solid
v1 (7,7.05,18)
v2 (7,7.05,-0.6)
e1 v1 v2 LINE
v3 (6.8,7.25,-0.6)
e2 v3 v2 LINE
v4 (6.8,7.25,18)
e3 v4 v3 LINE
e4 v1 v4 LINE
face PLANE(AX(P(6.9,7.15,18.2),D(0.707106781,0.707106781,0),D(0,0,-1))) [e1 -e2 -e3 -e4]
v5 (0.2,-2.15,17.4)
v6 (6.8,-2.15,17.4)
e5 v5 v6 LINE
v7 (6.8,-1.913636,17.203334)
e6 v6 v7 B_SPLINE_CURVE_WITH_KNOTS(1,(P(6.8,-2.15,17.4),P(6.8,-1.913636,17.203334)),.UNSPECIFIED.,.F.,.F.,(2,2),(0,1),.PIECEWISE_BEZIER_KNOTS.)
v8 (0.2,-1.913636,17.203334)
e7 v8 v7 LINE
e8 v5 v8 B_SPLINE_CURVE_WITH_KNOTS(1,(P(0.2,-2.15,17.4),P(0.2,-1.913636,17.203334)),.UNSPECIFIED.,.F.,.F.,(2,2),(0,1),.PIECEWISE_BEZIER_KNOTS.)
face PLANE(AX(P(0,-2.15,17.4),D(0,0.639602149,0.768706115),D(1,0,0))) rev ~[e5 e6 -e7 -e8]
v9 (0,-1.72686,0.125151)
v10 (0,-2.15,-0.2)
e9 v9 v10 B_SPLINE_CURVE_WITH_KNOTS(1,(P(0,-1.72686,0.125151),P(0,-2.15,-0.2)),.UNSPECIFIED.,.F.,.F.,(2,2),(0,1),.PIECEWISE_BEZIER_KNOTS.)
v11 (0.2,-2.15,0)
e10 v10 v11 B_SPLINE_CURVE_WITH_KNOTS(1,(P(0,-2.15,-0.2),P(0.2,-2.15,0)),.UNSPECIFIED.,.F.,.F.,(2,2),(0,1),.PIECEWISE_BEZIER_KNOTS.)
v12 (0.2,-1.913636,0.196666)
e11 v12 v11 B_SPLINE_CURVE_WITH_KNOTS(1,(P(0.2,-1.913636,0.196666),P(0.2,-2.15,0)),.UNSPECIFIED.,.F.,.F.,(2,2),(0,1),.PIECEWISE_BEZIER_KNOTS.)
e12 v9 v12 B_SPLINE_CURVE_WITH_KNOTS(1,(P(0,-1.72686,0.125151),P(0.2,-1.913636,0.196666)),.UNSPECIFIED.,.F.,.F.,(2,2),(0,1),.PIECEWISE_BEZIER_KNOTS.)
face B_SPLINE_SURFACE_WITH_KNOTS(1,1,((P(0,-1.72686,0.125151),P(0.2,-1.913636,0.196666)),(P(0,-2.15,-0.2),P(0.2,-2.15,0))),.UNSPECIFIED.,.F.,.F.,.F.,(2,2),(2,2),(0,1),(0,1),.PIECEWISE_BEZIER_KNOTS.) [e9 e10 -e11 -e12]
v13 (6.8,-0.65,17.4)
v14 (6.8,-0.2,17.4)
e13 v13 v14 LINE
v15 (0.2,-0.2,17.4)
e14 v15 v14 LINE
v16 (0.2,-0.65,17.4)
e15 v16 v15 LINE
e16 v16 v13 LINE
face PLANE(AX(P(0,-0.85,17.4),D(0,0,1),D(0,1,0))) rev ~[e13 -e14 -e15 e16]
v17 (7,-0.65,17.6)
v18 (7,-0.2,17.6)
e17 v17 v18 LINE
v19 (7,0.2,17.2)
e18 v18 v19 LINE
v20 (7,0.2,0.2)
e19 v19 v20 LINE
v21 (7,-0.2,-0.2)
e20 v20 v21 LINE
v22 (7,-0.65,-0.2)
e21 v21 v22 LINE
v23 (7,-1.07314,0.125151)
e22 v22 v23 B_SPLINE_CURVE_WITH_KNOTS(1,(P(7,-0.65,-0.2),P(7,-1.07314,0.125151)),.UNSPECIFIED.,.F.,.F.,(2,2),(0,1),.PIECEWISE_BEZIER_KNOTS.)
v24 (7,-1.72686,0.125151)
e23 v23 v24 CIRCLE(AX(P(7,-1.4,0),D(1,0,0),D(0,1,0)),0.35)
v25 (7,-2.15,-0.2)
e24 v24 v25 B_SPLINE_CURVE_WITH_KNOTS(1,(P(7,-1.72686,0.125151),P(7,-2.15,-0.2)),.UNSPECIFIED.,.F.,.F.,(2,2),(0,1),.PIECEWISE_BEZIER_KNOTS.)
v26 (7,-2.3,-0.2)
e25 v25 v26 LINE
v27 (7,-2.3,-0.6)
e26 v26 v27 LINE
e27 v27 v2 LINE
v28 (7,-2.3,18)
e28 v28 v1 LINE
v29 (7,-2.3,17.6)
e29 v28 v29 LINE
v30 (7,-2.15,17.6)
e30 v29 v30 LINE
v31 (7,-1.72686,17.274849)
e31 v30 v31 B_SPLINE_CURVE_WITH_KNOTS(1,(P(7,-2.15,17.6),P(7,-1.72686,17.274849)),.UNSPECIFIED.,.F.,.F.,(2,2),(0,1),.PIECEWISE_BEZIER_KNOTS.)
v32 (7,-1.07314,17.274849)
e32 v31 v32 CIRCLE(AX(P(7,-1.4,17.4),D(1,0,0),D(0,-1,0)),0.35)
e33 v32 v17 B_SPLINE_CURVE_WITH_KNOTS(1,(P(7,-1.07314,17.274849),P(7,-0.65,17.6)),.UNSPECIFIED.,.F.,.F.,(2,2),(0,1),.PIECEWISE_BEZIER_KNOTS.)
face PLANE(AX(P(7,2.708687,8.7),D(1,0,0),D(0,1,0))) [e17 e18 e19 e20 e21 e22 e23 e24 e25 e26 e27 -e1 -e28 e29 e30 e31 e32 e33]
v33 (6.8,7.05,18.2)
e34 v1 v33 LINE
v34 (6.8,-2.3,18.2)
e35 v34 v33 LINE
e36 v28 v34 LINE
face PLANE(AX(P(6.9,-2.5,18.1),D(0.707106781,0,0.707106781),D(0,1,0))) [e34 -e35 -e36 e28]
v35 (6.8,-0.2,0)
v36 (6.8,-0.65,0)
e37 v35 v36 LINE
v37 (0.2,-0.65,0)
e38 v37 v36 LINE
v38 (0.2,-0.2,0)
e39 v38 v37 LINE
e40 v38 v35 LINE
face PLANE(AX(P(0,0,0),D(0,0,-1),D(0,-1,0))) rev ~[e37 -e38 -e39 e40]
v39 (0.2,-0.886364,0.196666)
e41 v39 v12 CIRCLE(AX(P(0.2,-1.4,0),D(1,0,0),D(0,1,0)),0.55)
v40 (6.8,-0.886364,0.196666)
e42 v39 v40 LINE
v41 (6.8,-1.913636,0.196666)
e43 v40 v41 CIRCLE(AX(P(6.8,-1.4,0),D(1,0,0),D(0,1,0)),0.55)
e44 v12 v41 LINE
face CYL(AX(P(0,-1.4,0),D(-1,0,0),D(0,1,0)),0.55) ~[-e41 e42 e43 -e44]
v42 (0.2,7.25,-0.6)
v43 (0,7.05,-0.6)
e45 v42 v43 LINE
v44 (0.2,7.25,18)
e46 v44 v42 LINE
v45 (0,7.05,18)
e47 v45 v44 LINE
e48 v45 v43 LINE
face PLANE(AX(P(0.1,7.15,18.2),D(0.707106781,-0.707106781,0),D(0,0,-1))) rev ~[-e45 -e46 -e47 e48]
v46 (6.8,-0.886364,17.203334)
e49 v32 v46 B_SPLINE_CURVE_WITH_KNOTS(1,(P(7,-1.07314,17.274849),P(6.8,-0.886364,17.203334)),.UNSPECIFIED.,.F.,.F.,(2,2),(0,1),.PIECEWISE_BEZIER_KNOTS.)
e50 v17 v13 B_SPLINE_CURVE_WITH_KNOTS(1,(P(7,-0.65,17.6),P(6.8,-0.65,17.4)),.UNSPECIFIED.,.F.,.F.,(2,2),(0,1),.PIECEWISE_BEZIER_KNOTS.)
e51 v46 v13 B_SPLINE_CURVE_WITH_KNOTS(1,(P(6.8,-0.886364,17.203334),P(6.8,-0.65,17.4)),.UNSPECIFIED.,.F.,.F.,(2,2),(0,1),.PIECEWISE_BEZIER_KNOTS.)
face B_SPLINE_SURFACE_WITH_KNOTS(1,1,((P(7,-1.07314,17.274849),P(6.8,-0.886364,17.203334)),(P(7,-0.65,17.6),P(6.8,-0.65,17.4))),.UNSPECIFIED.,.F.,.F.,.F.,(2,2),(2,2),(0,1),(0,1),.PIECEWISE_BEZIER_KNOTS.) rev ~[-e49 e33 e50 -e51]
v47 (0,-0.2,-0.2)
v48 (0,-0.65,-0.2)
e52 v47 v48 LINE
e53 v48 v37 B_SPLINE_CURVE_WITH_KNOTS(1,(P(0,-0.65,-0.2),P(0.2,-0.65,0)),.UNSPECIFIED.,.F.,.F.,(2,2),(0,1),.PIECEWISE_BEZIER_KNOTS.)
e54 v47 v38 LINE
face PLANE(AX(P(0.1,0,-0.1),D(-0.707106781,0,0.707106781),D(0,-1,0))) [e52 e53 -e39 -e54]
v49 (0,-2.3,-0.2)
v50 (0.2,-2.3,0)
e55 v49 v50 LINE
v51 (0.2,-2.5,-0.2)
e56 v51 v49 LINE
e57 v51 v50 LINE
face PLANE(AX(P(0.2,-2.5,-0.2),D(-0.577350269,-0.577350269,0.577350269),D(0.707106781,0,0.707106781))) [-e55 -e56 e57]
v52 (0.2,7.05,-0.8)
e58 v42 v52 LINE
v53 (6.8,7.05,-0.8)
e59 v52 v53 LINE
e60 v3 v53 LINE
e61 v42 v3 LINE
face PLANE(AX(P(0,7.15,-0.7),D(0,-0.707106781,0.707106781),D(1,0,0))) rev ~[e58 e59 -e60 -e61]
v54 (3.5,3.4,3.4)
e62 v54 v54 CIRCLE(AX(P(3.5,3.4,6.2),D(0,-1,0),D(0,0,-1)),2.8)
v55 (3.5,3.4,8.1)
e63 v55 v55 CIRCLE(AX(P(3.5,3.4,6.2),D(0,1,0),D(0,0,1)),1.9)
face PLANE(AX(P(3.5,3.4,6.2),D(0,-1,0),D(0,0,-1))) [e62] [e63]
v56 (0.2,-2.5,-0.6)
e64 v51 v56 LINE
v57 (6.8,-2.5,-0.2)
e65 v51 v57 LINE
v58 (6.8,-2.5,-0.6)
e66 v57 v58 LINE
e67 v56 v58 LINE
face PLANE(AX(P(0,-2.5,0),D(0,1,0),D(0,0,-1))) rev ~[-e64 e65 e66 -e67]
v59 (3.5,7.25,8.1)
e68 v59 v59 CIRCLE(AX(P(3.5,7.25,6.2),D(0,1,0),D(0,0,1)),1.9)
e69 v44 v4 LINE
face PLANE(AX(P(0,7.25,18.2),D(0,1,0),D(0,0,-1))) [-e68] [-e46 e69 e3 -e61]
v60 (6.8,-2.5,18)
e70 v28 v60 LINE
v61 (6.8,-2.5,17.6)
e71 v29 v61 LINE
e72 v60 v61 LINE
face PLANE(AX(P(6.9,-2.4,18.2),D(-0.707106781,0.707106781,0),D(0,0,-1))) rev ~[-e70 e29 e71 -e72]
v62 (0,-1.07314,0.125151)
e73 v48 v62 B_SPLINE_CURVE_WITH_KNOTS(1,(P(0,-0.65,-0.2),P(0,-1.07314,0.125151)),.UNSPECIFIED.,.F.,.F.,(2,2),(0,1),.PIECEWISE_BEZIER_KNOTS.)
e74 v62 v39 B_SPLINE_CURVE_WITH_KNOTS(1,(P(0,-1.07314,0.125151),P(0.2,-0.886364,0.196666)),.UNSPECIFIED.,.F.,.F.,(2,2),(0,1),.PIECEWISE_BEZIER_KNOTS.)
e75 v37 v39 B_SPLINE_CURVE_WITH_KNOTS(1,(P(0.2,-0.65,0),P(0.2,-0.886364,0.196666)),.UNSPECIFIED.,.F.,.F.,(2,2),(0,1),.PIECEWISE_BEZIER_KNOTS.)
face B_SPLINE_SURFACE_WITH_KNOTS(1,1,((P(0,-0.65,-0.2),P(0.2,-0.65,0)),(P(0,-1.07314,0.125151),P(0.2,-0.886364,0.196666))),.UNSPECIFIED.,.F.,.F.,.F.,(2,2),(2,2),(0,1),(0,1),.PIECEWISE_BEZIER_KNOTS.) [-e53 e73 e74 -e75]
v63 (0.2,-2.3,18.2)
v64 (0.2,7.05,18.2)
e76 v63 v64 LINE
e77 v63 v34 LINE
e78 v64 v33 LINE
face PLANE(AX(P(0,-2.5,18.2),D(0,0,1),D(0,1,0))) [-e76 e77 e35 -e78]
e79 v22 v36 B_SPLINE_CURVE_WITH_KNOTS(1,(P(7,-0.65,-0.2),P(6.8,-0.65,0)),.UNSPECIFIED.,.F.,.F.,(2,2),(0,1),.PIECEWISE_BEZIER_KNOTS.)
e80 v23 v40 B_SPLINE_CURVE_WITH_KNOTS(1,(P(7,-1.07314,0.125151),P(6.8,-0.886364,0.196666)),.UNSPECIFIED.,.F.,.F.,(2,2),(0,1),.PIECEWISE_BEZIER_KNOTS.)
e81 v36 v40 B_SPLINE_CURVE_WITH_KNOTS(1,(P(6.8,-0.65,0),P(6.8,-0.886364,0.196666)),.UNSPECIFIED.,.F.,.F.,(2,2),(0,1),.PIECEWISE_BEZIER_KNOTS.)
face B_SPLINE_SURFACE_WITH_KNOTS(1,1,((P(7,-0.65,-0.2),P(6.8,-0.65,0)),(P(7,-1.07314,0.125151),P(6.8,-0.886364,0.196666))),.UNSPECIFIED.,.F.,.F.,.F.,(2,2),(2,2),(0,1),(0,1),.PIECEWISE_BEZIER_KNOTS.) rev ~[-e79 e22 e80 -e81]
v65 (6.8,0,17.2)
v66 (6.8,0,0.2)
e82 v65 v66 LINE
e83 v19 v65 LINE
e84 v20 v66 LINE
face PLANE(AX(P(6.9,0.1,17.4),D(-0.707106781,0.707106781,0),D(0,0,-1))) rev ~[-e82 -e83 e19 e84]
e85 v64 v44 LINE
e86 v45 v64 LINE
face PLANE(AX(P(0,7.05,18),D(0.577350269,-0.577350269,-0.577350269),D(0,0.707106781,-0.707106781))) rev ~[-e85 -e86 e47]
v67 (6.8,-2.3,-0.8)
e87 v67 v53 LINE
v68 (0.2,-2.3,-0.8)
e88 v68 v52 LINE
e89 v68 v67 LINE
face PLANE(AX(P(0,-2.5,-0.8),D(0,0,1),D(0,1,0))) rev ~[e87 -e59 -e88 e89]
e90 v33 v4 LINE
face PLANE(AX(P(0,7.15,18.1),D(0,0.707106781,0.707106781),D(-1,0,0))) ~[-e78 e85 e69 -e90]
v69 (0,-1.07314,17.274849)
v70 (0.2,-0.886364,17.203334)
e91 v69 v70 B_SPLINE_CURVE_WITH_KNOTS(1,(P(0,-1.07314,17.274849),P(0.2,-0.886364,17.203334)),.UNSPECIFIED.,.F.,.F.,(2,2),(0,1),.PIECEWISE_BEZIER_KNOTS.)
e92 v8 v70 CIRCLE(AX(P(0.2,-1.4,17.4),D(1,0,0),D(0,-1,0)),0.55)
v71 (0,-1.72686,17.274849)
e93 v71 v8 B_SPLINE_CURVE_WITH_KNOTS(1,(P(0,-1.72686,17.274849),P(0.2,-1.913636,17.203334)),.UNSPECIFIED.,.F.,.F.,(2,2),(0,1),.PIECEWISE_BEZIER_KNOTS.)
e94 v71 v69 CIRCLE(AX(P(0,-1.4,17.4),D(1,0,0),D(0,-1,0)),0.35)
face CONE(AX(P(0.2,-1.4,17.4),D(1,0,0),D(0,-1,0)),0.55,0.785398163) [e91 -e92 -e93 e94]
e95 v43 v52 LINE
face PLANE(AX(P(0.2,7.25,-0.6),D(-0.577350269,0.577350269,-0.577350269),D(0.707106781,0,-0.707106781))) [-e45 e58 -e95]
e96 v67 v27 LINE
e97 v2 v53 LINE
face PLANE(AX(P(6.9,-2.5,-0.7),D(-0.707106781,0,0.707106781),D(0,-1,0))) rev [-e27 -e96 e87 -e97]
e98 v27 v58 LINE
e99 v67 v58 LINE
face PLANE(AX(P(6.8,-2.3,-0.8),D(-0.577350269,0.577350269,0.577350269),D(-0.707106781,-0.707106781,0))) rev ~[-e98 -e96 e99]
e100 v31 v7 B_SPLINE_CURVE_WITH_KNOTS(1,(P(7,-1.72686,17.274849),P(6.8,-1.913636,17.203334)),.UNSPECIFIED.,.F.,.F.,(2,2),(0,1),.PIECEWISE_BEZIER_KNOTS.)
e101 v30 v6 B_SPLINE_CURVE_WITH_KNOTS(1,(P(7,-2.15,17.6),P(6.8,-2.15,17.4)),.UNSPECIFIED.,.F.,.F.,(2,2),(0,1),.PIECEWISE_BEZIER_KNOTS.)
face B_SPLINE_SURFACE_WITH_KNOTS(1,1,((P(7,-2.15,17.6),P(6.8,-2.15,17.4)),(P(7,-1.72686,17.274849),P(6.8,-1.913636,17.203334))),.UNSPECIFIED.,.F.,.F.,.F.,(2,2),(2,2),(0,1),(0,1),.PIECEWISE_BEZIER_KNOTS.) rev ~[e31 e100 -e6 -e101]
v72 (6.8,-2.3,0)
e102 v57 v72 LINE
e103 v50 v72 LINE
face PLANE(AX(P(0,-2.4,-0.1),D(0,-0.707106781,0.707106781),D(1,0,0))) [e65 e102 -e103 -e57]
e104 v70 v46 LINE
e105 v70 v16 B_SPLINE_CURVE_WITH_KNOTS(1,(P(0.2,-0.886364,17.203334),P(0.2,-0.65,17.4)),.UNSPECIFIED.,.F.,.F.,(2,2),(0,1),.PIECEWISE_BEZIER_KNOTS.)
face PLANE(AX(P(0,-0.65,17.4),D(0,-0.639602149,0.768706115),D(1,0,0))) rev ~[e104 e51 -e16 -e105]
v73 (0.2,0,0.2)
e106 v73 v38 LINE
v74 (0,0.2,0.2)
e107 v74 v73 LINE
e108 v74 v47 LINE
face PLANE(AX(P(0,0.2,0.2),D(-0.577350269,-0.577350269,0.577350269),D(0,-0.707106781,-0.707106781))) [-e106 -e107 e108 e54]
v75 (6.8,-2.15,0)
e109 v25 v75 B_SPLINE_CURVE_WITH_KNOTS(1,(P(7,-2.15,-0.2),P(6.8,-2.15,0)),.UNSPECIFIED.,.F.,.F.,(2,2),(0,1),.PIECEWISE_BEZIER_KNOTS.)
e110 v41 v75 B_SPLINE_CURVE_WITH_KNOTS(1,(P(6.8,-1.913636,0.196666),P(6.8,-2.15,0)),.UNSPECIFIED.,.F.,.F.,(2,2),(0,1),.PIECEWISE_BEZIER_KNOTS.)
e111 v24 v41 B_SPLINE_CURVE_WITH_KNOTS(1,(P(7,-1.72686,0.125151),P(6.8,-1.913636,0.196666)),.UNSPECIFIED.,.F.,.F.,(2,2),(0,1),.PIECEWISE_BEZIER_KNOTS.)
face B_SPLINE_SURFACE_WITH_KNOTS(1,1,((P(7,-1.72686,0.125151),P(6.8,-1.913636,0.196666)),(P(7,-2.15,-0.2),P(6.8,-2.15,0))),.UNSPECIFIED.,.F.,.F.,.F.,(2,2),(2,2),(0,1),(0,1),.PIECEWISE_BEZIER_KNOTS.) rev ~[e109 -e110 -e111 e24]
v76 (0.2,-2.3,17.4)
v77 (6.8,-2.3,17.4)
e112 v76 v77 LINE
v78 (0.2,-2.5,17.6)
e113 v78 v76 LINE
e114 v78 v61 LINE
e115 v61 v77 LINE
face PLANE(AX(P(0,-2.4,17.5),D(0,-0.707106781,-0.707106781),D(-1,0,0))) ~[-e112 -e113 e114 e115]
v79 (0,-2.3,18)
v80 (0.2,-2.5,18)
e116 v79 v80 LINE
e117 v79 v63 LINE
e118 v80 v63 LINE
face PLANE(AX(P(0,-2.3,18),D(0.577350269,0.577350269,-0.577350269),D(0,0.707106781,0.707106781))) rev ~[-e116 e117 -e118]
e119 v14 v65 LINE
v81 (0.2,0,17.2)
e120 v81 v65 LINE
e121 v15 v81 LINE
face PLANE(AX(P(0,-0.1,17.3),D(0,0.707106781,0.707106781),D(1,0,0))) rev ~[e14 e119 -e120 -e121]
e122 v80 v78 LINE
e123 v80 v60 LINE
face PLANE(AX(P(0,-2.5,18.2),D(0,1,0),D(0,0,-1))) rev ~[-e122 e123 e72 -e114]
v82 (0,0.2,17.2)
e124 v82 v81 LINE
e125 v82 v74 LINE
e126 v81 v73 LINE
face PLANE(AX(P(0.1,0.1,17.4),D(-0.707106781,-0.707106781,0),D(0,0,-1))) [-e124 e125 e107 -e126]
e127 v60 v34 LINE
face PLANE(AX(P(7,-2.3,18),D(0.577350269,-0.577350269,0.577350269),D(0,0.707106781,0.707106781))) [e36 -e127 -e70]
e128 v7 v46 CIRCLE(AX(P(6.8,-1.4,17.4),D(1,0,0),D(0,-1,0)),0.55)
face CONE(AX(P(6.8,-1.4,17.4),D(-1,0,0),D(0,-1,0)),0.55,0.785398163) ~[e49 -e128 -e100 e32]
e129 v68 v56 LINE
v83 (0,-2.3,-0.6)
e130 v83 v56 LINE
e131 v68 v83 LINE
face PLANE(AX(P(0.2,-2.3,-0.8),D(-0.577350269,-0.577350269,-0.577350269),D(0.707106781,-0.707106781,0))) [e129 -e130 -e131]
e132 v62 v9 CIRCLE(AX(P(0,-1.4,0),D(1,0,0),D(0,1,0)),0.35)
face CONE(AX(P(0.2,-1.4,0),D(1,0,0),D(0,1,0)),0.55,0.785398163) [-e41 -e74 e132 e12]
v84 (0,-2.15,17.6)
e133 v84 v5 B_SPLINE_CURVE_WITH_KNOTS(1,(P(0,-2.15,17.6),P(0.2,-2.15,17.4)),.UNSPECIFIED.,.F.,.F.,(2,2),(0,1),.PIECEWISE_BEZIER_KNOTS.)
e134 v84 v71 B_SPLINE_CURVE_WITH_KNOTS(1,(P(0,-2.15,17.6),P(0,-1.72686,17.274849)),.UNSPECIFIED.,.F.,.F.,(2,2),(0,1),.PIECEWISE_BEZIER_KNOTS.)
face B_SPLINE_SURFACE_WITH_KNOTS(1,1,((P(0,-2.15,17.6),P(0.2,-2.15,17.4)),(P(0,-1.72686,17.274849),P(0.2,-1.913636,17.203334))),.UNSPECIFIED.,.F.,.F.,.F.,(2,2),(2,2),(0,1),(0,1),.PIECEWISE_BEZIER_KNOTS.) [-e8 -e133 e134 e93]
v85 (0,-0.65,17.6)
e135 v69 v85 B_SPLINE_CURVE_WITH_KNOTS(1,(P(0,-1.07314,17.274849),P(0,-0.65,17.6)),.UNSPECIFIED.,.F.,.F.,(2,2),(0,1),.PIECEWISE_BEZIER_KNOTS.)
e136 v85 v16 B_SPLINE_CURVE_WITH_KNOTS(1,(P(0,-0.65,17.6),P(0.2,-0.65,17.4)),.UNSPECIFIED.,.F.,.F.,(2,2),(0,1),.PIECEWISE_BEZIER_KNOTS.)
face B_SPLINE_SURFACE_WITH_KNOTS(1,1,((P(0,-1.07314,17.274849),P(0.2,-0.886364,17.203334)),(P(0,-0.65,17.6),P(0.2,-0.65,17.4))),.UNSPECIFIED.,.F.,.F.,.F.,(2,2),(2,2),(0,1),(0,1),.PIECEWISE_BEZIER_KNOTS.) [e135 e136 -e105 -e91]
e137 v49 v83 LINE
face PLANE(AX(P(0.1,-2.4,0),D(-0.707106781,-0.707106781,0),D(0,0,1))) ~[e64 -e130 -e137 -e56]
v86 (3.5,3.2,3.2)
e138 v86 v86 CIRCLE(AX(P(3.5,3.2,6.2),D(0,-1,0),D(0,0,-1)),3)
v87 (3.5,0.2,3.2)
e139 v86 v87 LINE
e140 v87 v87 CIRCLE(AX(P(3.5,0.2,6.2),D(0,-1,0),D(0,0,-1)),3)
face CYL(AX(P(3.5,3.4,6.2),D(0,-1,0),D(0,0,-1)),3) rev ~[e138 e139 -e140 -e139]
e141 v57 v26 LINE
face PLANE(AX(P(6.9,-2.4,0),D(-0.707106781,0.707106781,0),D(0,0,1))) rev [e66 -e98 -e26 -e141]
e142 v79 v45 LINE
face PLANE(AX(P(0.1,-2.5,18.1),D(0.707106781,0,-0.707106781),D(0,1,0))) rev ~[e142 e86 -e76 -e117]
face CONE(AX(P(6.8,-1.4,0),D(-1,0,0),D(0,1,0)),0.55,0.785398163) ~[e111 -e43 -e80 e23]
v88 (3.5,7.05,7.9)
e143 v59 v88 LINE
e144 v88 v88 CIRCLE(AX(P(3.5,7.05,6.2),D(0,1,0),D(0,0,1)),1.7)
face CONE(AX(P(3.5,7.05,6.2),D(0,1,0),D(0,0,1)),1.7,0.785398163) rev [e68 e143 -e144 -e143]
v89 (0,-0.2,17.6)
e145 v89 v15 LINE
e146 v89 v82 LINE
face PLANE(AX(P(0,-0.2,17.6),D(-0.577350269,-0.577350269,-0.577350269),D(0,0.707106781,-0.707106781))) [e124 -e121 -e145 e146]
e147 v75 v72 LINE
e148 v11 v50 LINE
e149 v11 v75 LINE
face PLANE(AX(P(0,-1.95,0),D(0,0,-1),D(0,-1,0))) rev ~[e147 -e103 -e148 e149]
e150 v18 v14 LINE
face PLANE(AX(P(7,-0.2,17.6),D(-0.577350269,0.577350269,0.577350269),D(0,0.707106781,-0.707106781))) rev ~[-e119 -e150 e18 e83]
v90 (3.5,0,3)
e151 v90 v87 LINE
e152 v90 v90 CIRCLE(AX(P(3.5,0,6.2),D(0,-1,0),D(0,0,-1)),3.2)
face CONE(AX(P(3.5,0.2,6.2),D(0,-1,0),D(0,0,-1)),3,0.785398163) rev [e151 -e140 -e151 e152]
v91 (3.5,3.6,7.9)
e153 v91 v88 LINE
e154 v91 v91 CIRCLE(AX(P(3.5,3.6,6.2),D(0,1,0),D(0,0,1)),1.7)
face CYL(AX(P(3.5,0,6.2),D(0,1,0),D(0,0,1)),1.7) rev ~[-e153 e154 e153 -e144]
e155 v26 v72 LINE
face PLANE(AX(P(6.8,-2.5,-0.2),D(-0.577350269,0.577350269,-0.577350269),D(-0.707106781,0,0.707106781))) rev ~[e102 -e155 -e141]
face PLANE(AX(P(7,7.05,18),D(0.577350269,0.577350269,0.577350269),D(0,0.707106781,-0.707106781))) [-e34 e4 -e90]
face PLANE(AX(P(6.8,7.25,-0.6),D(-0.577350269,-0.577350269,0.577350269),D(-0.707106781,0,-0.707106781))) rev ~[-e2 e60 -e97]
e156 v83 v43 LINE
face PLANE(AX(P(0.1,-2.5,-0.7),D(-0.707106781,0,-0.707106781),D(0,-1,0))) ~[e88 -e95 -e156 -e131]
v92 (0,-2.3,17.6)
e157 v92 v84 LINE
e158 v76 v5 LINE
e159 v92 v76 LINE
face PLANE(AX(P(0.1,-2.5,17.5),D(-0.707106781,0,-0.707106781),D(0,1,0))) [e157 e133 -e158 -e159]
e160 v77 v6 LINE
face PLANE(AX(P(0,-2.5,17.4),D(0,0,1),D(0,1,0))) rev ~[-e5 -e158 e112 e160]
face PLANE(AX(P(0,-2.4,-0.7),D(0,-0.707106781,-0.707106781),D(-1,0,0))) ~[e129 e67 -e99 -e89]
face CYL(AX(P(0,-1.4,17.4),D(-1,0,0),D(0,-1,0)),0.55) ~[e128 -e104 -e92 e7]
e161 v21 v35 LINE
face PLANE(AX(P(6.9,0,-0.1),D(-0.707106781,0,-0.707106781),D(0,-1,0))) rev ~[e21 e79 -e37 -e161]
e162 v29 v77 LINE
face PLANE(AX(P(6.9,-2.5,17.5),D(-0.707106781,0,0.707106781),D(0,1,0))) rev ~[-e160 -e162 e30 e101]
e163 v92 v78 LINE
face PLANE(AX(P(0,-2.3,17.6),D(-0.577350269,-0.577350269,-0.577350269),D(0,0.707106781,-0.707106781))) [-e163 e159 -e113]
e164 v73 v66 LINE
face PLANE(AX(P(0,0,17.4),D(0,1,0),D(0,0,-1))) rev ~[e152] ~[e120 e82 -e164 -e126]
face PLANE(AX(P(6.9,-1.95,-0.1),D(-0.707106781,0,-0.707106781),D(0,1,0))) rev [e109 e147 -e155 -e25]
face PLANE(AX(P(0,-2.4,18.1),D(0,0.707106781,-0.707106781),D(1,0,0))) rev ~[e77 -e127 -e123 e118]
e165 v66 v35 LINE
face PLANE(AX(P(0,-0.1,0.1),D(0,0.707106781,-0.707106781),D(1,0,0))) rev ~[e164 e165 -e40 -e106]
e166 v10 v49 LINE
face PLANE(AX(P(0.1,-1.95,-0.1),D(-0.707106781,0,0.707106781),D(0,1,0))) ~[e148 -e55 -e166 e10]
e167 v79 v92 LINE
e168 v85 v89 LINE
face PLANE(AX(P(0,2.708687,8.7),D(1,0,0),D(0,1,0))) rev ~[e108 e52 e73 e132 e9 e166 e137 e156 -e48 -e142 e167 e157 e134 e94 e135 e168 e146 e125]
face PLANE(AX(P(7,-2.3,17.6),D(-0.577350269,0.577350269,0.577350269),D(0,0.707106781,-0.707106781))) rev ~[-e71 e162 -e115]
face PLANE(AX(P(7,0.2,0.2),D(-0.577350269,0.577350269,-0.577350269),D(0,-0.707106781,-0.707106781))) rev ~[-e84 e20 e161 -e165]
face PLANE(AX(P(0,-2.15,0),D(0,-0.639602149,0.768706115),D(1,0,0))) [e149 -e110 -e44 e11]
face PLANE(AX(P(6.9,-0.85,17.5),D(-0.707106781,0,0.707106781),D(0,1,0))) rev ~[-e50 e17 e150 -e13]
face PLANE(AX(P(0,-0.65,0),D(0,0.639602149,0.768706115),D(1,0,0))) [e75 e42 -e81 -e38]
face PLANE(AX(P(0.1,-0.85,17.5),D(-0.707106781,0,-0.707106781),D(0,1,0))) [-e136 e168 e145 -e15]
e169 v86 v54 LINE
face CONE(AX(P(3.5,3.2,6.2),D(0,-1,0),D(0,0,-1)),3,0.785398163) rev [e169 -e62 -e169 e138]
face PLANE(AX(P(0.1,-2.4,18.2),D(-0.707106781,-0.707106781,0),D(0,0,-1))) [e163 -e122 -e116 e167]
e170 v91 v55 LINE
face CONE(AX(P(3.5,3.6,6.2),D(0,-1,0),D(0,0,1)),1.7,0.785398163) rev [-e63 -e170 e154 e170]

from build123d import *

# Parameters (mm, degrees)
PAD_DEPTH        = 7
HOLE_D           = 3.4
HOLE_CBORE_D     = 6
HOLE_CBORE_DEPTH = 3.4
CHAMFER_SIZE     = 0.2


with BuildPart() as part:
    # Sketch → Pad (new body)
    with BuildSketch(Plane.YZ):
        with BuildLine():
            Line((-2.5, 0), (-2.5, -0.8))
            Line((-2.5, -0.8), (7.25, -0.8))
            Line((7.25, 18.2), (7.25, -0.8))
            Line((-2.5, 18.2), (7.25, 18.2))
            Line((-2.5, 18.2), (-2.5, 17.4))
            Line((-2.5, 17.4), (-1.95, 17.4))
            ThreePointArc((-1.95, 17.4), (-1.4, 16.85), (-0.85, 17.4))
            Line((-0.85, 17.4), (0, 17.4))
            Line((0, 17.4), (0, 0))
            Line((0, 0), (-0.85, 0))
            ThreePointArc((-0.85, 0), (-1.4, 0.55), (-1.95, 0))
            Line((-1.95, 0), (-2.5, 0))
        make_face()
    extrude(amount=PAD_DEPTH)

    # Hole (through all)
    with Locations(Plane(origin=(0, 0, 0), x_dir=(0, 0, -1), z_dir=(0, -1, 0))):
        with Locations((-6.2, 3.5)):
            CounterBoreHole(HOLE_D / 2, HOLE_CBORE_D / 2, HOLE_CBORE_DEPTH)

    # Chamfer
    chamfer_edges = [part.edges().sort_by_distance(p)[0] for p in [
        (3.5, -2.5, 18.2),
        (3.5, -2.5, 17.4),
        (0, -2.5, 17.8),
        (7, -2.5, 17.8),
        (3.5, 7.25, 18.2),
        (0, 2.375, 18.2),
        (7, 2.375, 18.2),
        (3.5, -1.95, 17.4),
        (0, -2.225, 17.4),
        (7, -2.225, 17.4),
        (0, -1.4, 16.85),
        (0, -0.425, 17.4),
        (0, 0, 8.7),
        (0, -0.425, 0),
        (0, -1.4, 0.55),
        (0, -2.225, 0),
        (0, -2.5, -0.4),
        (0, 2.375, -0.8),
        (0, 7.25, 8.7),
        (7, -1.4, 16.85),
        (7, -0.425, 17.4),
        (7, 0, 8.7),
        (7, -0.425, 0),
        (7, -1.4, 0.55),
        (7, -2.225, 0),
        (7, -2.5, -0.4),
        (7, 2.375, -0.8),
        (7, 7.25, 8.7),
        (3.5, 7.25, -0.8),
        (1.8, 7.25, 6.2),
        (3.5, -0.85, 17.4),
        (3.5, 0, 17.4),
        (3.5, 0, 0),
        (0.5, 0, 6.2),
        (3.5, -0.85, 0),
        (3.5, -1.95, 0),
        (3.5, -2.5, 0),
        (3.5, -2.5, -0.8),
        (5.2, 5.325, 6.2),
        (1.8, 3.4, 6.2),
        (0.5, 3.4, 6.2),
        (6.5, 1.7, 6.2),
    ]]
    chamfer(chamfer_edges, length=CHAMFER_SIZE)


solid = part.part
